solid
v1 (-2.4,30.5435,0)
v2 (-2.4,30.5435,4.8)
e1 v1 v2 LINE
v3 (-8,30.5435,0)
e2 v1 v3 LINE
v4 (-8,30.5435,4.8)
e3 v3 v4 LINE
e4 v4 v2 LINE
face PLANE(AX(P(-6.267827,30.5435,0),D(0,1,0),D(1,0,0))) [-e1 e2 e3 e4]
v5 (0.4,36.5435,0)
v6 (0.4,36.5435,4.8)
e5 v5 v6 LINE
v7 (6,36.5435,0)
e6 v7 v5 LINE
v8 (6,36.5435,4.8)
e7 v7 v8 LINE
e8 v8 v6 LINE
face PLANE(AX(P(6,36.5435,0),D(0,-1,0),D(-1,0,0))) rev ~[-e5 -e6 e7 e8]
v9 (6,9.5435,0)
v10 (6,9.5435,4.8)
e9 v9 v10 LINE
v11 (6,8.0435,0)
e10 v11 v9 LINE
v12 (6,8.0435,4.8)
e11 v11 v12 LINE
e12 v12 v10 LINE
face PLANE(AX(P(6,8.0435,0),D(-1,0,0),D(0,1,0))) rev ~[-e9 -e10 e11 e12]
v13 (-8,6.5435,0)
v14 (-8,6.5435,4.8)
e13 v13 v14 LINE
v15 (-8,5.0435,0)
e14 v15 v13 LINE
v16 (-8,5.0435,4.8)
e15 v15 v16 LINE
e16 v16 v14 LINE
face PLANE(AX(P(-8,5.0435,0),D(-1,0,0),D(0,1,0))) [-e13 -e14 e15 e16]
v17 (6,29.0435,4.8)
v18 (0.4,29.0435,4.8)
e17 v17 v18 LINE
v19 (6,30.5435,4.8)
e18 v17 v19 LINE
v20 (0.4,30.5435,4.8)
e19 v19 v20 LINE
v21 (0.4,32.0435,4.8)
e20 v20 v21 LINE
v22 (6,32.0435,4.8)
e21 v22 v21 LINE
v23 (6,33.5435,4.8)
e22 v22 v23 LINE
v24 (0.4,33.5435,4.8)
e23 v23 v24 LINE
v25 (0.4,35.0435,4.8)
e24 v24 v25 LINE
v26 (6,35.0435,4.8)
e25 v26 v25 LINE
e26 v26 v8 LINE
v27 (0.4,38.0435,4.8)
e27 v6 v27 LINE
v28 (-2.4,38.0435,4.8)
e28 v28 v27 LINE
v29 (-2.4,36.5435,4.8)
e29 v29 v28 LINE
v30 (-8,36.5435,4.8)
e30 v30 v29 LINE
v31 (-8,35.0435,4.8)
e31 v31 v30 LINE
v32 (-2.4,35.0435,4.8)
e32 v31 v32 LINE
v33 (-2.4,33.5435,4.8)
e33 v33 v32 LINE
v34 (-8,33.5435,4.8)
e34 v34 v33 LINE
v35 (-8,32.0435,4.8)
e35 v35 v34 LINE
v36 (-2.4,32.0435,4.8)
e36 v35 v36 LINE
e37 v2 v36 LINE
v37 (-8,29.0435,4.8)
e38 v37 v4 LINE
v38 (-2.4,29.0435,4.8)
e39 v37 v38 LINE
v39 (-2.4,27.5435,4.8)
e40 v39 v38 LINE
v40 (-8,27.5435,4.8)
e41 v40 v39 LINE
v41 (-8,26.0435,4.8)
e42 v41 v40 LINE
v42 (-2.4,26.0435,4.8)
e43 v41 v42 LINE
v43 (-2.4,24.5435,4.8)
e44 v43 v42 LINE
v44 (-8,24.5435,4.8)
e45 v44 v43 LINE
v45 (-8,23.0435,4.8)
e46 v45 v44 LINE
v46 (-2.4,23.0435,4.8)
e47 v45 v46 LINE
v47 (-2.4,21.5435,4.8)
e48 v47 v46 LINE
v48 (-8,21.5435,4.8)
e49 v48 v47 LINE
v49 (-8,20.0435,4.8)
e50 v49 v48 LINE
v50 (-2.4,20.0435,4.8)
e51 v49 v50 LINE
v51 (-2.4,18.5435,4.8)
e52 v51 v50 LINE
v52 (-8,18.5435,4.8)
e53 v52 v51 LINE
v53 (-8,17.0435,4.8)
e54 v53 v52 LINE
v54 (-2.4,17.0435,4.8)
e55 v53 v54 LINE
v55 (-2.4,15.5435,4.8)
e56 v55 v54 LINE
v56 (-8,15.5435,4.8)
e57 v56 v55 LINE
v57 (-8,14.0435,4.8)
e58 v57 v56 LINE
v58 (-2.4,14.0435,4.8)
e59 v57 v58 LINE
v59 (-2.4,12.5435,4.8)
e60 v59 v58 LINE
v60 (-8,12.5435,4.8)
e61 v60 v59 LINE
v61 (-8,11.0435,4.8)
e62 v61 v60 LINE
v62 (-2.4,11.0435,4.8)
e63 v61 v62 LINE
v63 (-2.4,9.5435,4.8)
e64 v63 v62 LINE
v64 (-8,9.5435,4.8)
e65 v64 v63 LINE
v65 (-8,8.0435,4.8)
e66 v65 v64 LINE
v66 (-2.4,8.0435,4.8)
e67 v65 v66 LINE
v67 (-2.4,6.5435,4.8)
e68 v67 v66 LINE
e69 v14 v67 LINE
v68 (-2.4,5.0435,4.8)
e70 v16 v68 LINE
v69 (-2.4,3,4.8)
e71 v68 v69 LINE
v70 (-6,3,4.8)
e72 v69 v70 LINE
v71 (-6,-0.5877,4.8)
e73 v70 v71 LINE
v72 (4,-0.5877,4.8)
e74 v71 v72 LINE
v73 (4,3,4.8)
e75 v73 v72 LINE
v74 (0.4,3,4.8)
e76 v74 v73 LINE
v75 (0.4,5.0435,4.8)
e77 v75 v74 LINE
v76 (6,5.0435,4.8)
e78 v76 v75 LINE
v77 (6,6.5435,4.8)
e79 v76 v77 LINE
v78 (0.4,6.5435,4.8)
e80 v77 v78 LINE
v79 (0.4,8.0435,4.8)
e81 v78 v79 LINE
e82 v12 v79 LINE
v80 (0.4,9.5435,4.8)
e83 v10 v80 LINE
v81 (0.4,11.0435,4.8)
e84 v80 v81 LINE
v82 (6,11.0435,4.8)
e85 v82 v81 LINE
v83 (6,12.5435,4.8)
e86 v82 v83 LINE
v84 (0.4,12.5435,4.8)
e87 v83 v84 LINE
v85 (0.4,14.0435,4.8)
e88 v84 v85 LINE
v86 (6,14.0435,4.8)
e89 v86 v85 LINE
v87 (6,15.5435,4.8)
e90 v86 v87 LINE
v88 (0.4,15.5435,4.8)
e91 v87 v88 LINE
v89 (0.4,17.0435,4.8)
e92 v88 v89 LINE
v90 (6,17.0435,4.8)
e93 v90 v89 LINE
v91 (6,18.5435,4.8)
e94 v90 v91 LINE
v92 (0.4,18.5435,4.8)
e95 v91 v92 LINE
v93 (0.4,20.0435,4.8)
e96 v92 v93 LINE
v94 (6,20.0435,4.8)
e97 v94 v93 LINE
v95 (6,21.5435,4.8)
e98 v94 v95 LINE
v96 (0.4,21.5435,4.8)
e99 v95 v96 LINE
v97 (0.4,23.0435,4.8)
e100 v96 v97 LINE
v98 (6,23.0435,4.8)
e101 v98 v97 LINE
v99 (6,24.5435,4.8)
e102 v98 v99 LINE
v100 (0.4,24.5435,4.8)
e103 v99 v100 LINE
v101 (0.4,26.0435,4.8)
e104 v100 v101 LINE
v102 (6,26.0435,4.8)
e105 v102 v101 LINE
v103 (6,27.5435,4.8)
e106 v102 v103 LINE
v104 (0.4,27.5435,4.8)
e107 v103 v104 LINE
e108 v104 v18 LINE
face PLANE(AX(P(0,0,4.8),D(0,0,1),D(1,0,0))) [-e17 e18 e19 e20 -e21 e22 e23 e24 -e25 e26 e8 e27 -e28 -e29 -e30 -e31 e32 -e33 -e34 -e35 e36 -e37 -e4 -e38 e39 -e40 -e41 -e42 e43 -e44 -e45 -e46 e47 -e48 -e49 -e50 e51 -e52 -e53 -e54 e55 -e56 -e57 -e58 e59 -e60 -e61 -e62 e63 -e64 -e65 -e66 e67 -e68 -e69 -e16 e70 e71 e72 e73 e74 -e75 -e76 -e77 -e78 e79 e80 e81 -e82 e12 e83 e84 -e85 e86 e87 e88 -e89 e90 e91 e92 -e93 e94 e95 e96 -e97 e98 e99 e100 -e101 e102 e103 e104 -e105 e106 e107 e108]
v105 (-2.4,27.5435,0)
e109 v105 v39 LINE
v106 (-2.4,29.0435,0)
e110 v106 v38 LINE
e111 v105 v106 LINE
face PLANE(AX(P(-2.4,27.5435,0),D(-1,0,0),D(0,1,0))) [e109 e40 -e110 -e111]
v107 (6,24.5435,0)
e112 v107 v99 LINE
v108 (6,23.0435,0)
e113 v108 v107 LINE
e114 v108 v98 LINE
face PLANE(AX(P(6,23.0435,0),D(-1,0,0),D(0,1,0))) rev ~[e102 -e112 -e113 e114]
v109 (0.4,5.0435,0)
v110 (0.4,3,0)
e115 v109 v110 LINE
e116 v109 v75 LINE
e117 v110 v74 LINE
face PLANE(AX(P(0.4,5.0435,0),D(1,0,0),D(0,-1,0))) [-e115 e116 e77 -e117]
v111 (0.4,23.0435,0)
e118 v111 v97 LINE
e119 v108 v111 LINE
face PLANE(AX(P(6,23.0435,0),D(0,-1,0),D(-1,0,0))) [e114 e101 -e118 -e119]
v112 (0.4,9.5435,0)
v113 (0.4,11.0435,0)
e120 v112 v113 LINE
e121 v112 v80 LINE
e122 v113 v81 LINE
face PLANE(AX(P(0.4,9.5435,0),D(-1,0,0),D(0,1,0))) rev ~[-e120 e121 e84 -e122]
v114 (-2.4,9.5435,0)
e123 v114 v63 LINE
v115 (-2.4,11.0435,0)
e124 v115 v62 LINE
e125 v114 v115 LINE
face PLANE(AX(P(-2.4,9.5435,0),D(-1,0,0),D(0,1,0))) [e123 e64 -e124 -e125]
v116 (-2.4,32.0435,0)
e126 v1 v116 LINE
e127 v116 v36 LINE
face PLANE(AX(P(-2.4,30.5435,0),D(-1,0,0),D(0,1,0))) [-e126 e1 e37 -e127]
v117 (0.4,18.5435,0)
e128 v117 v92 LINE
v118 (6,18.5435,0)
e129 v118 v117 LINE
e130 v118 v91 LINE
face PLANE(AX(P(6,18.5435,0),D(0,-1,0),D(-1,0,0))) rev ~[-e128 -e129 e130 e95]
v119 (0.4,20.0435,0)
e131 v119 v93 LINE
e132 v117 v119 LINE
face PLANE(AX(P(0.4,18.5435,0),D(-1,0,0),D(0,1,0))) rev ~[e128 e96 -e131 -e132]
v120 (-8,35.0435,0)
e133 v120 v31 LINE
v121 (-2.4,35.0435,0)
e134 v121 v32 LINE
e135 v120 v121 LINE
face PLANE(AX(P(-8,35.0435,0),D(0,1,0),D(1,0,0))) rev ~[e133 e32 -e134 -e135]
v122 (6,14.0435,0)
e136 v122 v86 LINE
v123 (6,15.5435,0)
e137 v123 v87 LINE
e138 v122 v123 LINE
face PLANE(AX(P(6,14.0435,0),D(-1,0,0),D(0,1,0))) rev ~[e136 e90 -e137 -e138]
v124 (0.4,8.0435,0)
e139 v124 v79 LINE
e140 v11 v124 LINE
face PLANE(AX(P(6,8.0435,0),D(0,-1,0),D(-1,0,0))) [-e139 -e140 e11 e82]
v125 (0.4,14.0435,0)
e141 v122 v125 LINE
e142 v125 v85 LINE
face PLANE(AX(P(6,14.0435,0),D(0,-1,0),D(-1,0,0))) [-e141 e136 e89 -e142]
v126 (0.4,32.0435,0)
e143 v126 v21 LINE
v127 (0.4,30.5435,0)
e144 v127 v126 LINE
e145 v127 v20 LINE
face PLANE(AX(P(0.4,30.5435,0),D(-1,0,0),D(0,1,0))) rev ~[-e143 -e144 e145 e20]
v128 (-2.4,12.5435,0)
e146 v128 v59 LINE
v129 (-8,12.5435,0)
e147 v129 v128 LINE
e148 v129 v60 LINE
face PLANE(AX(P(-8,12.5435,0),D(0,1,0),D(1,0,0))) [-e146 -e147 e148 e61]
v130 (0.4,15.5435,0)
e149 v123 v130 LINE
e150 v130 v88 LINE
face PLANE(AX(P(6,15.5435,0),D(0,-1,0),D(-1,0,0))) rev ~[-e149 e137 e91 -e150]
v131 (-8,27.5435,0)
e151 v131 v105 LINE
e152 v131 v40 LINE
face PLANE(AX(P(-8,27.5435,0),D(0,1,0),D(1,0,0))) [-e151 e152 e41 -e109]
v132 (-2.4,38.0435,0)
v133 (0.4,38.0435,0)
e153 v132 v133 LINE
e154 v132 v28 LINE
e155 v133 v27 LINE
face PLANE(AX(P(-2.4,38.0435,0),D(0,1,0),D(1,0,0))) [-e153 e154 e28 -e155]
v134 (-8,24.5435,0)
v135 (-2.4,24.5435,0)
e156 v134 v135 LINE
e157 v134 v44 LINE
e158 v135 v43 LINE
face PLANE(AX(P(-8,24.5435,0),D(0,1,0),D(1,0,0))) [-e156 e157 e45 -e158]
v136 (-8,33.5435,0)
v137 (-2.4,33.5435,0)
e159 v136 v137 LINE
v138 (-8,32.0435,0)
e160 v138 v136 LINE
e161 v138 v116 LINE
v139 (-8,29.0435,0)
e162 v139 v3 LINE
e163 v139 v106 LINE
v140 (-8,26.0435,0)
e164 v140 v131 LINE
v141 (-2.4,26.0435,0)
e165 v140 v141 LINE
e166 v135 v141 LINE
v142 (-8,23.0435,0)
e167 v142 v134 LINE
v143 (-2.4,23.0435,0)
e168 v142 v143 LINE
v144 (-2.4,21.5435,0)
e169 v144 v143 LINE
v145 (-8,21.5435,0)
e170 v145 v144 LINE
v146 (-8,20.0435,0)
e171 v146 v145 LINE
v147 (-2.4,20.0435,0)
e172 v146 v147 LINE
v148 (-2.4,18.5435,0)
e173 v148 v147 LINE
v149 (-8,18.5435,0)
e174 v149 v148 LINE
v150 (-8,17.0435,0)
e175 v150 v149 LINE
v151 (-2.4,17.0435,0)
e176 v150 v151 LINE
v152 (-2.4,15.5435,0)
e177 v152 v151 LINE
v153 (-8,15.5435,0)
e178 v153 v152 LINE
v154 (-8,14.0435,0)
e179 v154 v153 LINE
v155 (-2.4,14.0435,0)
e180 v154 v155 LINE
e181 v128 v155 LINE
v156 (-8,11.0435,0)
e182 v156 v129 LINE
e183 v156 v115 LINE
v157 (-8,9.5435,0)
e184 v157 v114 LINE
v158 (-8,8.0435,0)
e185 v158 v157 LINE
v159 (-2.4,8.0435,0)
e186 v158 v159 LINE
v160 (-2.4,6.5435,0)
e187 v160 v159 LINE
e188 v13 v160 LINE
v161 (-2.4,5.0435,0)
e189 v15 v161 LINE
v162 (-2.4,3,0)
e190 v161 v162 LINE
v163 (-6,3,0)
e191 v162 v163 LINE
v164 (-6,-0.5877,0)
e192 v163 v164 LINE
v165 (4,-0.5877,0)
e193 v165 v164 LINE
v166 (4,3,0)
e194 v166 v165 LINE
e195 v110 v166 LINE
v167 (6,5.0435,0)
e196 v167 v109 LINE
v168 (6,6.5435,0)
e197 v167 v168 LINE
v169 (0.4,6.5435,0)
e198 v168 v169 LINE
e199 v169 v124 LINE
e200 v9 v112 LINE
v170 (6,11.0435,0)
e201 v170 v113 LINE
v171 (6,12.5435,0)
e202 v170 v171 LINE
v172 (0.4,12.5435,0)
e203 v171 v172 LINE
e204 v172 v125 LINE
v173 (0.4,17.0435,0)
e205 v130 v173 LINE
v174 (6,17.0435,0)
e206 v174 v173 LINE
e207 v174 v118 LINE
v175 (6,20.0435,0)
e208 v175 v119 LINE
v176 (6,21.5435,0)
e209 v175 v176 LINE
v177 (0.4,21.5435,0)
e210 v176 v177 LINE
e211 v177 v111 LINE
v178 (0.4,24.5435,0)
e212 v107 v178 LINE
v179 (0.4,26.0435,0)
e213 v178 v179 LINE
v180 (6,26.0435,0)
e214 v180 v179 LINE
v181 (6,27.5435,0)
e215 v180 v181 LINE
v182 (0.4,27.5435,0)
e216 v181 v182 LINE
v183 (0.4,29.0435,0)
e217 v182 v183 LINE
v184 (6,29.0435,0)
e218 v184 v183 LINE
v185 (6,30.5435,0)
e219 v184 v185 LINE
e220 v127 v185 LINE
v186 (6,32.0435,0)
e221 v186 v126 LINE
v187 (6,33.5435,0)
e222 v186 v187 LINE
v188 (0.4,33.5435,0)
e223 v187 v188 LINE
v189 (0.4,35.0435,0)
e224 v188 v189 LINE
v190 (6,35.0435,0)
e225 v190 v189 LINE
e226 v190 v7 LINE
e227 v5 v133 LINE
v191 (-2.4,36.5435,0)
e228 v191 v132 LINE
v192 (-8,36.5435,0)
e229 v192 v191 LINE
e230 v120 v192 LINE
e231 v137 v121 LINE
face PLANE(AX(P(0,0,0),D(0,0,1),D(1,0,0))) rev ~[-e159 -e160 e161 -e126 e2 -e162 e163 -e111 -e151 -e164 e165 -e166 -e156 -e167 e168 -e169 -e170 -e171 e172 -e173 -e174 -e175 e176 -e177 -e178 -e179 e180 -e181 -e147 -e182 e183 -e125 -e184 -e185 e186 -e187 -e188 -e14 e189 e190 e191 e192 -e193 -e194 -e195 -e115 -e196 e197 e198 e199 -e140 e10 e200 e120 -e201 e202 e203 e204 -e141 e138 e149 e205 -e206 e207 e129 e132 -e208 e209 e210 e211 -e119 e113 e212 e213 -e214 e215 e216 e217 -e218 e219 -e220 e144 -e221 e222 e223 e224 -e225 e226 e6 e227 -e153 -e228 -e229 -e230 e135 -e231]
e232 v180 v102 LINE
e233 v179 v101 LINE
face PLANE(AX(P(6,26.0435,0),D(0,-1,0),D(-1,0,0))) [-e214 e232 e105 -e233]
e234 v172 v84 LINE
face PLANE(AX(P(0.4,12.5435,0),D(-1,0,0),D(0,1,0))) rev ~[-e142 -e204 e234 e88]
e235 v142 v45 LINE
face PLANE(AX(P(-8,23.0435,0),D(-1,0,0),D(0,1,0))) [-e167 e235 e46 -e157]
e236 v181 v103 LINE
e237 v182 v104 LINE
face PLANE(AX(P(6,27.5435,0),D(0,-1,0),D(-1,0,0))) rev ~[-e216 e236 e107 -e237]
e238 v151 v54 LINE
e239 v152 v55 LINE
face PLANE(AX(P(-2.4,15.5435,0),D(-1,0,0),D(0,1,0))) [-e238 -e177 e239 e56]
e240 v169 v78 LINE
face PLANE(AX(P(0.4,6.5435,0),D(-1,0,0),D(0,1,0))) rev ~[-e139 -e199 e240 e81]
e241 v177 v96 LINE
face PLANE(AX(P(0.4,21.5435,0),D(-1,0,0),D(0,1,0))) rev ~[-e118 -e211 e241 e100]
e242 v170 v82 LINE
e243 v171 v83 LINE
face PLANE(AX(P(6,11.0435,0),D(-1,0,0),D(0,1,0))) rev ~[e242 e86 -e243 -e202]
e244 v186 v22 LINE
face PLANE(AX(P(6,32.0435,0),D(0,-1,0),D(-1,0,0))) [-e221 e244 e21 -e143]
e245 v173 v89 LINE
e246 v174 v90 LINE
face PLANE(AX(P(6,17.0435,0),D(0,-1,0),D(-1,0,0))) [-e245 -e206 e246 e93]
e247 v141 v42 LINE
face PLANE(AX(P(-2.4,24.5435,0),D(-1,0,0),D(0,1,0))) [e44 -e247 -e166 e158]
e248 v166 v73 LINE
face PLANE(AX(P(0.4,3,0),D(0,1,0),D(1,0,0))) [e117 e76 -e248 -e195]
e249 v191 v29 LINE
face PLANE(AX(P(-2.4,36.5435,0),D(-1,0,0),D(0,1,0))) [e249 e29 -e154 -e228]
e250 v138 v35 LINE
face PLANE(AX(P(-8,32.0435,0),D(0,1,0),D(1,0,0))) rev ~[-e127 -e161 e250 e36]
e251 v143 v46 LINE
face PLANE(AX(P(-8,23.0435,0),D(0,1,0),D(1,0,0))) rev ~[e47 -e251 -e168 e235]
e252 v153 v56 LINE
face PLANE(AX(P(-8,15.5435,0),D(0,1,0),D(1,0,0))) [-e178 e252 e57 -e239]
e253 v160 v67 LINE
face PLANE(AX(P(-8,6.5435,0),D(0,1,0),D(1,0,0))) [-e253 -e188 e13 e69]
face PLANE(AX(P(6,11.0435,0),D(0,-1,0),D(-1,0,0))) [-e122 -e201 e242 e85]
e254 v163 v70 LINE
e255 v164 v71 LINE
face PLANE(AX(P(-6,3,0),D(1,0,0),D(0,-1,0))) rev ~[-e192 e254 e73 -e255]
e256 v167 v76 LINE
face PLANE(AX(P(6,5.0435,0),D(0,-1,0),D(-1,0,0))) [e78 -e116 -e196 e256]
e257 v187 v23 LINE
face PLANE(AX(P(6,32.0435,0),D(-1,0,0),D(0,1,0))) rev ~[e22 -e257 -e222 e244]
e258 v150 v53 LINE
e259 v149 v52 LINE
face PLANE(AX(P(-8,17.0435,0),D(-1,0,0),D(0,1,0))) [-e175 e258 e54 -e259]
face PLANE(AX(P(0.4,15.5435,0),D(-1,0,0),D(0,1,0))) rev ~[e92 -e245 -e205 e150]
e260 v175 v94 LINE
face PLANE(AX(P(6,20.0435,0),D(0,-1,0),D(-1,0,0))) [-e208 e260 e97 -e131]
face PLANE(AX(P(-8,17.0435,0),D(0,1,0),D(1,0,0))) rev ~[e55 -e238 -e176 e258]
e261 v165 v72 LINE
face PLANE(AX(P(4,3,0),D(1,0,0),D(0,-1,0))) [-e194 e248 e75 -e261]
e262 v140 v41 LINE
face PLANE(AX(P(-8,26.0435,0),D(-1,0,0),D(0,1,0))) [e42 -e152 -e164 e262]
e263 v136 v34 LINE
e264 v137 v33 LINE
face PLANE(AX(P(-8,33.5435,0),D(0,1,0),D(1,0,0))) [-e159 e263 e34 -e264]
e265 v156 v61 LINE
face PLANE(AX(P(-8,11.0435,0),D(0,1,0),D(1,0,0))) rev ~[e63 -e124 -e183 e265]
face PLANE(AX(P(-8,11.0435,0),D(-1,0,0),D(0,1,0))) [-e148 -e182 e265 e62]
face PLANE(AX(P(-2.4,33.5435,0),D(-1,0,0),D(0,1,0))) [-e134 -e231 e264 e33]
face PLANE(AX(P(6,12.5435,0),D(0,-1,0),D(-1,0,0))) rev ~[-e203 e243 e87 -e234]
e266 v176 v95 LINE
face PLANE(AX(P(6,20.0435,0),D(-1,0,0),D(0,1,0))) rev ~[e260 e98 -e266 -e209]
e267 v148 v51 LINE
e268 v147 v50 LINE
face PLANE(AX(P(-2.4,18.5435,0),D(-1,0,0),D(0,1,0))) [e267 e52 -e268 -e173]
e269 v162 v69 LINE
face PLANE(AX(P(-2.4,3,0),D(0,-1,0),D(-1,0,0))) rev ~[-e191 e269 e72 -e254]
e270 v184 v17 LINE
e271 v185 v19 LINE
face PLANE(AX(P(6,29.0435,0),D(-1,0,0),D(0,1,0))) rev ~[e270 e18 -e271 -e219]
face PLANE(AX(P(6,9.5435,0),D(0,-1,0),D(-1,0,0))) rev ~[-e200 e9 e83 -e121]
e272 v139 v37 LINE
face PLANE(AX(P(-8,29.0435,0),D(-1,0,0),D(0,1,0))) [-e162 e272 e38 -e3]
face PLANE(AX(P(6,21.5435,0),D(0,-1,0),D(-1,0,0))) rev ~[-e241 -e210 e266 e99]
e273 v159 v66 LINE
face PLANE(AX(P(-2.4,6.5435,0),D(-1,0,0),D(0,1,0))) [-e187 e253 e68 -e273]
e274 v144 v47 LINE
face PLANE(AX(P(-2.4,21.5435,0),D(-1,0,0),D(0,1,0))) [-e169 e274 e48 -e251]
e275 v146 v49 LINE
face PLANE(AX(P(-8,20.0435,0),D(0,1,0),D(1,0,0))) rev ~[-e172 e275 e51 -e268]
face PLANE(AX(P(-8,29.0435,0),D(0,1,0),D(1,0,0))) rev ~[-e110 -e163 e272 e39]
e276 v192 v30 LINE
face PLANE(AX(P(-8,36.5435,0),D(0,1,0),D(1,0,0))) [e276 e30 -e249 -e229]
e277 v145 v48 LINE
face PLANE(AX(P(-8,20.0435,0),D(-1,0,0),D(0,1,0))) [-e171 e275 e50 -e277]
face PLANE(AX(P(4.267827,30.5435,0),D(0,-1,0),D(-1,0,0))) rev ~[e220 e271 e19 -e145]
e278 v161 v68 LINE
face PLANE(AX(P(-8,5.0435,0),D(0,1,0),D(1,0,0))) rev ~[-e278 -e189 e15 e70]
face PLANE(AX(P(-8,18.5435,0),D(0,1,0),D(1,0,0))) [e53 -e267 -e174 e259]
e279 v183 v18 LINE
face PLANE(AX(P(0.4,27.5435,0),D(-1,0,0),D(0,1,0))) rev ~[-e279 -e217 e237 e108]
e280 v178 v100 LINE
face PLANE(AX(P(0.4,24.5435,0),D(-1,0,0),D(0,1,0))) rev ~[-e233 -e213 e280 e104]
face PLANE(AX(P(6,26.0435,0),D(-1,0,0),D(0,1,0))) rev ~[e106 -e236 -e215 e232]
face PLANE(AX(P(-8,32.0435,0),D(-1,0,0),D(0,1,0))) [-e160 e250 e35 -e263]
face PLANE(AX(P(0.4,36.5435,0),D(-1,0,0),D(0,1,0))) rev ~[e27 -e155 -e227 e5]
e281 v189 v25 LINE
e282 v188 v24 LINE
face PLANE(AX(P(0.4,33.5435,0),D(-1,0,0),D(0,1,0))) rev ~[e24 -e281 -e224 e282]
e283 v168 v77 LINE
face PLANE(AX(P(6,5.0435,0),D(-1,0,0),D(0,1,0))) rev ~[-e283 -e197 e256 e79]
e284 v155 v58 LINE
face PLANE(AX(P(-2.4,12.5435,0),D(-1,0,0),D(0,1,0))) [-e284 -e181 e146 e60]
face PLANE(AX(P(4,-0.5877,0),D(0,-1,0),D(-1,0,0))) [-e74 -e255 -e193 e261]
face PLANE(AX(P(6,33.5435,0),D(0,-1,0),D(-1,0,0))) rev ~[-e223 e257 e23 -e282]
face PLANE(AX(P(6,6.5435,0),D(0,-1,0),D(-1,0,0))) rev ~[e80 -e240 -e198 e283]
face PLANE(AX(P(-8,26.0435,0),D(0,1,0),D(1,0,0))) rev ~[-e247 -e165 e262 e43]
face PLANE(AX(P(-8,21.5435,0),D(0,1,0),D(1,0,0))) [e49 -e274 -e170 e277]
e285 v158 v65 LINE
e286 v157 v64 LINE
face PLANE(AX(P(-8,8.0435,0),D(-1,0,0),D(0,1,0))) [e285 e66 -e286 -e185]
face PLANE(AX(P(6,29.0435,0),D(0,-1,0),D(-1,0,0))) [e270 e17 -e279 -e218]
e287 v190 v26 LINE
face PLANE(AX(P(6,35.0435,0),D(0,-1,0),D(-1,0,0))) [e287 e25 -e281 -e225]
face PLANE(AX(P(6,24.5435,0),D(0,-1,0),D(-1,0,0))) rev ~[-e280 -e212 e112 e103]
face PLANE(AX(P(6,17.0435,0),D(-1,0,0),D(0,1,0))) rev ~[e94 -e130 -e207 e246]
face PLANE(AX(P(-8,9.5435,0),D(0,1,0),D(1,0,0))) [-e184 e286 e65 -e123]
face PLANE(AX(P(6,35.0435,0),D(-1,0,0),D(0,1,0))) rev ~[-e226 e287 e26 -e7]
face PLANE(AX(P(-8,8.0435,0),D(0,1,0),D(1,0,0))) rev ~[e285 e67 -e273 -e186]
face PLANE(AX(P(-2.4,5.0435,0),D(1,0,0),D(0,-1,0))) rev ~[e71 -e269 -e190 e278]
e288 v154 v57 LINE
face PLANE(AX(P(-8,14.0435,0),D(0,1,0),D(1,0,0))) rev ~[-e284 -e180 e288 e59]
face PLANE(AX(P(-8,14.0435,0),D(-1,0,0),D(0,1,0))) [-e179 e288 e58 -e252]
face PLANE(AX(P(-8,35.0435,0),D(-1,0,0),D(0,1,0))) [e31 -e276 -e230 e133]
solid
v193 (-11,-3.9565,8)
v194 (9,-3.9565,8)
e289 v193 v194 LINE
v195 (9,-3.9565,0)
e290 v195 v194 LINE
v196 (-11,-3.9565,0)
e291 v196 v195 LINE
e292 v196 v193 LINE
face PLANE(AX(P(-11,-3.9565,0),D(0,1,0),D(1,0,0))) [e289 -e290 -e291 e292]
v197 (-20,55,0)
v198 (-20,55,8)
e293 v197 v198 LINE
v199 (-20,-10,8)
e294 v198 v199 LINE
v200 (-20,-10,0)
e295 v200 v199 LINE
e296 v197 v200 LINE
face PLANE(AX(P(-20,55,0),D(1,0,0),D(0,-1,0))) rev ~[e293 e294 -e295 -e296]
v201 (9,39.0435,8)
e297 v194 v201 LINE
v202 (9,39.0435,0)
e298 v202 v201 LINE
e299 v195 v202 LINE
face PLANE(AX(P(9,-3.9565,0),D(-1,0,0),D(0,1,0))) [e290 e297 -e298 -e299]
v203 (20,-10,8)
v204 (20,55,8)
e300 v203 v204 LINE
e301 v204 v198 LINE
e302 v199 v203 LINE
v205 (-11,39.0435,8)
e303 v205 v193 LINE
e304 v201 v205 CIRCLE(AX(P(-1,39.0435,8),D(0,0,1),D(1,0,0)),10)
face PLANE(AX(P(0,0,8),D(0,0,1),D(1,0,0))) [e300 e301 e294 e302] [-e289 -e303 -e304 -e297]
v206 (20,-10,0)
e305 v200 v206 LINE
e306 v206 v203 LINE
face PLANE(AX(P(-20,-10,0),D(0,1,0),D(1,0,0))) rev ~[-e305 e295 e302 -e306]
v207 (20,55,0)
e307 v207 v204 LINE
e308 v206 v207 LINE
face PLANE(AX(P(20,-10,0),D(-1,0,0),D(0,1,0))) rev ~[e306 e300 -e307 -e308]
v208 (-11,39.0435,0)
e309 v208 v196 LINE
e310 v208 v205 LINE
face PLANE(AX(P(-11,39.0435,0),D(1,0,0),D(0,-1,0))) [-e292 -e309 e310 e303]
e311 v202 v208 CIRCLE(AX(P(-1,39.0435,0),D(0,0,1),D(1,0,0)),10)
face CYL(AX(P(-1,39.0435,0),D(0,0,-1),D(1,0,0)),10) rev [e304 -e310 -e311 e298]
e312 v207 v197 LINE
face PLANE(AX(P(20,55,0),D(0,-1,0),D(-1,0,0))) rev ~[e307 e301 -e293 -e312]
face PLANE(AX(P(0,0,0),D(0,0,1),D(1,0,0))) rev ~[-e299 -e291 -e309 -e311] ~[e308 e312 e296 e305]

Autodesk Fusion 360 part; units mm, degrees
sketch "Sketch1" plane through (0, 0, 0) normal (0, 0, 1) x (1, 0, 0)
  line L0 (-11, -3.9565) -> (9, -3.9565)
  line L1 (9, -3.9565) -> (9, 39.0435)
  line L2 (9, 39.0435) -> (-11, 39.0435)
  line L3 (-11, 39.0435) -> (-11, -3.9565)
  circle A0 centre (-1, 39.0435) radius 10
  line L4 (-1, -3.9565) -> (-1, 39.0435) construction
  line L5 (-8, 5.0435) -> (-8, 6.5435)
  line L6 (-8, 6.5435) -> (-2.4, 6.5435)
  line L7 (-2.4, 6.5435) -> (-2.4, 8.0435)
  line L8 (-8, 5.0435) -> (-2.4, 5.0435)
  line L9 (-8, 8.0435) -> (-2.4, 8.0435)
  line L10 (-8, 9.5435) -> (-2.4, 9.5435)
  line L11 (-8, 8.0435) -> (-8, 9.5435)
  line L12 (-2.4, 9.5435) -> (-2.4, 11.0435)
  line L13 (-8, 11.0435) -> (-2.4, 11.0435)
  line L14 (-8, 12.5435) -> (-2.4, 12.5435)
  line L15 (-8, 11.0435) -> (-8, 12.5435)
  line L16 (-2.4, 12.5435) -> (-2.4, 14.0435)
  line L17 (-8, 14.0435) -> (-2.4, 14.0435)
  line L18 (-8, 15.5435) -> (-2.4, 15.5435)
  line L19 (-8, 14.0435) -> (-8, 15.5435)
  line L20 (-2.4, 15.5435) -> (-2.4, 17.0435)
  line L21 (-8, 17.0435) -> (-2.4, 17.0435)
  line L22 (-8, 18.5435) -> (-2.4, 18.5435)
  line L23 (-8, 17.0435) -> (-8, 18.5435)
  line L24 (-2.4, 18.5435) -> (-2.4, 20.0435)
  line L25 (-8, 20.0435) -> (-2.4, 20.0435)
  line L26 (-8, 21.5435) -> (-2.4, 21.5435)
  line L27 (-8, 20.0435) -> (-8, 21.5435)
  line L28 (-2.4, 21.5435) -> (-2.4, 23.0435)
  line L29 (-8, 23.0435) -> (-2.4, 23.0435)
  line L30 (-8, 24.5435) -> (-2.4, 24.5435)
  line L31 (-8, 23.0435) -> (-8, 24.5435)
  line L32 (-2.4, 24.5435) -> (-2.4, 26.0435)
  line L33 (-8, 26.0435) -> (-2.4, 26.0435)
  line L34 (-8, 27.5435) -> (-2.4, 27.5435)
  line L35 (-8, 26.0435) -> (-8, 27.5435)
  line L36 (-2.4, 27.5435) -> (-2.4, 29.0435)
  line L37 (-8, 29.0435) -> (-2.4, 29.0435)
  line L38 (-8, 30.5435) -> (-2.4, 30.5435)
  line L39 (-8, 29.0435) -> (-8, 30.5435)
  line L40 (-2.4, 30.5435) -> (-2.4, 32.0435)
  line L41 (-8, 32.0435) -> (-2.4, 32.0435)
  line L42 (-8, 33.5435) -> (-2.4, 33.5435)
  line L43 (-8, 32.0435) -> (-8, 33.5435)
  line L44 (-2.4, 33.5435) -> (-2.4, 35.0435)
  line L45 (-8, 35.0435) -> (-2.4, 35.0435)
  line L46 (-8, 36.5435) -> (-2.4, 36.5435)
  line L47 (-8, 35.0435) -> (-8, 36.5435)
  line L48 (-2.4, 36.5435) -> (-2.4, 38.0435)
  line L49 (0.4, 36.5435) -> (0.4, 38.0435)
  line L50 (6, 29.0435) -> (6, 30.5435)
  line L51 (6, 30.5435) -> (0.4, 30.5435)
  line L52 (6, 29.0435) -> (0.4, 29.0435)
  line L53 (0.4, 27.5435) -> (0.4, 29.0435)
  line L54 (6, 26.0435) -> (6, 27.5435)
  line L55 (6, 27.5435) -> (0.4, 27.5435)
  line L56 (6, 26.0435) -> (0.4, 26.0435)
  line L57 (0.4, 24.5435) -> (0.4, 26.0435)
  line L58 (6, 23.0435) -> (6, 24.5435)
  line L59 (6, 24.5435) -> (0.4, 24.5435)
  line L60 (6, 23.0435) -> (0.4, 23.0435)
  line L61 (0.4, 21.5435) -> (0.4, 23.0435)
  line L62 (6, 20.0435) -> (6, 21.5435)
  line L63 (6, 21.5435) -> (0.4, 21.5435)
  line L64 (6, 20.0435) -> (0.4, 20.0435)
  line L65 (0.4, 18.5435) -> (0.4, 20.0435)
  line L66 (6, 17.0435) -> (6, 18.5435)
  line L67 (6, 18.5435) -> (0.4, 18.5435)
  line L68 (6, 17.0435) -> (0.4, 17.0435)
  line L69 (0.4, 15.5435) -> (0.4, 17.0435)
  line L70 (6, 15.5435) -> (0.4, 15.5435)
  line L71 (6, 14.0435) -> (6, 15.5435)
  line L72 (6, 14.0435) -> (0.4, 14.0435)
  line L73 (0.4, 12.5435) -> (0.4, 14.0435)
  line L74 (6, 11.0435) -> (6, 12.5435)
  line L75 (6, 12.5435) -> (0.4, 12.5435)
  line L76 (6, 11.0435) -> (0.4, 11.0435)
  line L77 (0.4, 9.5435) -> (0.4, 11.0435)
  line L78 (6, 8.0435) -> (6, 9.5435)
  line L79 (6, 9.5435) -> (0.4, 9.5435)
  line L80 (6, 8.0435) -> (0.4, 8.0435)
  line L81 (6, 5.0435) -> (0.4, 5.0435)
  line L82 (0.4, 6.5435) -> (0.4, 8.0435)
  line L83 (6, 6.5435) -> (0.4, 6.5435)
  line L84 (6, 5.0435) -> (6, 6.5435)
  line L85 (6, 33.5435) -> (0.4, 33.5435)
  line L86 (6, 32.0435) -> (6, 33.5435)
  line L87 (0.4, 33.5435) -> (0.4, 35.0435)
  line L88 (6, 35.0435) -> (0.4, 35.0435)
  line L89 (6, 36.5435) -> (0.4, 36.5435)
  line L90 (6, 35.0435) -> (6, 36.5435)
  line L91 (6, 32.0435) -> (0.4, 32.0435)
  line L92 (0.4, 30.5435) -> (0.4, 32.0435)
  line L93 (-2.4, 38.0435) -> (0.4, 38.0435)
  line L94 (-2.4, 5.0435) -> (-2.4, 3)
  line L95 (-2.4, 3) -> (-6, 3)
  line L96 (-6, 3) -> (-6, -0.5877)
  line L97 (-6, -0.5877) -> (-1, -0.5877)
  line L98 (0.4, 3) -> (4, 3)
  line L99 (0.4, 5.0435) -> (0.4, 3)
  line L100 (4, 3) -> (4, -0.5877)
  line L101 (4, -0.5877) -> (-1, -0.5877)
  line L102 (-20, -10) -> (20, -10)
  line L103 (20, -10) -> (20, 55)
  line L104 (20, 55) -> (-20, 55)
  line L105 (-20, 55) -> (-20, -10)
  dimension "d1" = 20
  dimension "d6" = 43
  dimension "d8" = 1.5
  dimension "d9" = 5.6
  dimension "d10" = 1.5
  dimension "d14" = 8.5
  dimension "d15" = 3
  dimension "d16" = 9
extrude "Extrude1" add sketch "Sketch1" along normal blind 8 makes body 1
extrude "Extrude2" add sketch "Sketch1" along normal blind 4.8 separate body contours A0 L38 L40 L41 L42 L43 L44 L45 L46 L47 L48 L49 L51 L85 L86 L87 L88 L89 L90 L91 L92 L93 | A0 L5 L6 L7 L8 L9 L10 L11 L12 L13 L14 L15 L16 L17 L18 L19 L20 L21 L22 L23 L24 L25 L26 L27 L28 L29 L30 L31 L32 L33 L34 L35 L36 L37 L38 L39 L50 L51 L52 L53 L54 L55 L56 L57 L58 L59 L60 L61 L62 L63 L64 L65 L66 L67 L68 L69 L70 L71 L72 L73 L74 L75 L76 L77 L78 L79 L80 L81 L82 L83 L84 L94 L95 L96 L97 L98 L99 L100 L101 makes body 2
equation "d1 = mold_width"
equation "mold_width = 20 mm"
equation "mold_length = 43 mm"
equation "comb_width = 7 mm"
equation "comb_tooth_width = 1.5 mm"
equation "d6 = mold_length"
equation "d8 = comb_tooth_width"
equation "d9 = comb_width * 0.8"
equation "d10 = comb_tooth_width"
equation "d16 = 6 * comb_tooth_width"
equation "mold_depth = 8 mm"
equation "d18 = mold_depth"
equation "d20 = 0.6 * mold_depth"
